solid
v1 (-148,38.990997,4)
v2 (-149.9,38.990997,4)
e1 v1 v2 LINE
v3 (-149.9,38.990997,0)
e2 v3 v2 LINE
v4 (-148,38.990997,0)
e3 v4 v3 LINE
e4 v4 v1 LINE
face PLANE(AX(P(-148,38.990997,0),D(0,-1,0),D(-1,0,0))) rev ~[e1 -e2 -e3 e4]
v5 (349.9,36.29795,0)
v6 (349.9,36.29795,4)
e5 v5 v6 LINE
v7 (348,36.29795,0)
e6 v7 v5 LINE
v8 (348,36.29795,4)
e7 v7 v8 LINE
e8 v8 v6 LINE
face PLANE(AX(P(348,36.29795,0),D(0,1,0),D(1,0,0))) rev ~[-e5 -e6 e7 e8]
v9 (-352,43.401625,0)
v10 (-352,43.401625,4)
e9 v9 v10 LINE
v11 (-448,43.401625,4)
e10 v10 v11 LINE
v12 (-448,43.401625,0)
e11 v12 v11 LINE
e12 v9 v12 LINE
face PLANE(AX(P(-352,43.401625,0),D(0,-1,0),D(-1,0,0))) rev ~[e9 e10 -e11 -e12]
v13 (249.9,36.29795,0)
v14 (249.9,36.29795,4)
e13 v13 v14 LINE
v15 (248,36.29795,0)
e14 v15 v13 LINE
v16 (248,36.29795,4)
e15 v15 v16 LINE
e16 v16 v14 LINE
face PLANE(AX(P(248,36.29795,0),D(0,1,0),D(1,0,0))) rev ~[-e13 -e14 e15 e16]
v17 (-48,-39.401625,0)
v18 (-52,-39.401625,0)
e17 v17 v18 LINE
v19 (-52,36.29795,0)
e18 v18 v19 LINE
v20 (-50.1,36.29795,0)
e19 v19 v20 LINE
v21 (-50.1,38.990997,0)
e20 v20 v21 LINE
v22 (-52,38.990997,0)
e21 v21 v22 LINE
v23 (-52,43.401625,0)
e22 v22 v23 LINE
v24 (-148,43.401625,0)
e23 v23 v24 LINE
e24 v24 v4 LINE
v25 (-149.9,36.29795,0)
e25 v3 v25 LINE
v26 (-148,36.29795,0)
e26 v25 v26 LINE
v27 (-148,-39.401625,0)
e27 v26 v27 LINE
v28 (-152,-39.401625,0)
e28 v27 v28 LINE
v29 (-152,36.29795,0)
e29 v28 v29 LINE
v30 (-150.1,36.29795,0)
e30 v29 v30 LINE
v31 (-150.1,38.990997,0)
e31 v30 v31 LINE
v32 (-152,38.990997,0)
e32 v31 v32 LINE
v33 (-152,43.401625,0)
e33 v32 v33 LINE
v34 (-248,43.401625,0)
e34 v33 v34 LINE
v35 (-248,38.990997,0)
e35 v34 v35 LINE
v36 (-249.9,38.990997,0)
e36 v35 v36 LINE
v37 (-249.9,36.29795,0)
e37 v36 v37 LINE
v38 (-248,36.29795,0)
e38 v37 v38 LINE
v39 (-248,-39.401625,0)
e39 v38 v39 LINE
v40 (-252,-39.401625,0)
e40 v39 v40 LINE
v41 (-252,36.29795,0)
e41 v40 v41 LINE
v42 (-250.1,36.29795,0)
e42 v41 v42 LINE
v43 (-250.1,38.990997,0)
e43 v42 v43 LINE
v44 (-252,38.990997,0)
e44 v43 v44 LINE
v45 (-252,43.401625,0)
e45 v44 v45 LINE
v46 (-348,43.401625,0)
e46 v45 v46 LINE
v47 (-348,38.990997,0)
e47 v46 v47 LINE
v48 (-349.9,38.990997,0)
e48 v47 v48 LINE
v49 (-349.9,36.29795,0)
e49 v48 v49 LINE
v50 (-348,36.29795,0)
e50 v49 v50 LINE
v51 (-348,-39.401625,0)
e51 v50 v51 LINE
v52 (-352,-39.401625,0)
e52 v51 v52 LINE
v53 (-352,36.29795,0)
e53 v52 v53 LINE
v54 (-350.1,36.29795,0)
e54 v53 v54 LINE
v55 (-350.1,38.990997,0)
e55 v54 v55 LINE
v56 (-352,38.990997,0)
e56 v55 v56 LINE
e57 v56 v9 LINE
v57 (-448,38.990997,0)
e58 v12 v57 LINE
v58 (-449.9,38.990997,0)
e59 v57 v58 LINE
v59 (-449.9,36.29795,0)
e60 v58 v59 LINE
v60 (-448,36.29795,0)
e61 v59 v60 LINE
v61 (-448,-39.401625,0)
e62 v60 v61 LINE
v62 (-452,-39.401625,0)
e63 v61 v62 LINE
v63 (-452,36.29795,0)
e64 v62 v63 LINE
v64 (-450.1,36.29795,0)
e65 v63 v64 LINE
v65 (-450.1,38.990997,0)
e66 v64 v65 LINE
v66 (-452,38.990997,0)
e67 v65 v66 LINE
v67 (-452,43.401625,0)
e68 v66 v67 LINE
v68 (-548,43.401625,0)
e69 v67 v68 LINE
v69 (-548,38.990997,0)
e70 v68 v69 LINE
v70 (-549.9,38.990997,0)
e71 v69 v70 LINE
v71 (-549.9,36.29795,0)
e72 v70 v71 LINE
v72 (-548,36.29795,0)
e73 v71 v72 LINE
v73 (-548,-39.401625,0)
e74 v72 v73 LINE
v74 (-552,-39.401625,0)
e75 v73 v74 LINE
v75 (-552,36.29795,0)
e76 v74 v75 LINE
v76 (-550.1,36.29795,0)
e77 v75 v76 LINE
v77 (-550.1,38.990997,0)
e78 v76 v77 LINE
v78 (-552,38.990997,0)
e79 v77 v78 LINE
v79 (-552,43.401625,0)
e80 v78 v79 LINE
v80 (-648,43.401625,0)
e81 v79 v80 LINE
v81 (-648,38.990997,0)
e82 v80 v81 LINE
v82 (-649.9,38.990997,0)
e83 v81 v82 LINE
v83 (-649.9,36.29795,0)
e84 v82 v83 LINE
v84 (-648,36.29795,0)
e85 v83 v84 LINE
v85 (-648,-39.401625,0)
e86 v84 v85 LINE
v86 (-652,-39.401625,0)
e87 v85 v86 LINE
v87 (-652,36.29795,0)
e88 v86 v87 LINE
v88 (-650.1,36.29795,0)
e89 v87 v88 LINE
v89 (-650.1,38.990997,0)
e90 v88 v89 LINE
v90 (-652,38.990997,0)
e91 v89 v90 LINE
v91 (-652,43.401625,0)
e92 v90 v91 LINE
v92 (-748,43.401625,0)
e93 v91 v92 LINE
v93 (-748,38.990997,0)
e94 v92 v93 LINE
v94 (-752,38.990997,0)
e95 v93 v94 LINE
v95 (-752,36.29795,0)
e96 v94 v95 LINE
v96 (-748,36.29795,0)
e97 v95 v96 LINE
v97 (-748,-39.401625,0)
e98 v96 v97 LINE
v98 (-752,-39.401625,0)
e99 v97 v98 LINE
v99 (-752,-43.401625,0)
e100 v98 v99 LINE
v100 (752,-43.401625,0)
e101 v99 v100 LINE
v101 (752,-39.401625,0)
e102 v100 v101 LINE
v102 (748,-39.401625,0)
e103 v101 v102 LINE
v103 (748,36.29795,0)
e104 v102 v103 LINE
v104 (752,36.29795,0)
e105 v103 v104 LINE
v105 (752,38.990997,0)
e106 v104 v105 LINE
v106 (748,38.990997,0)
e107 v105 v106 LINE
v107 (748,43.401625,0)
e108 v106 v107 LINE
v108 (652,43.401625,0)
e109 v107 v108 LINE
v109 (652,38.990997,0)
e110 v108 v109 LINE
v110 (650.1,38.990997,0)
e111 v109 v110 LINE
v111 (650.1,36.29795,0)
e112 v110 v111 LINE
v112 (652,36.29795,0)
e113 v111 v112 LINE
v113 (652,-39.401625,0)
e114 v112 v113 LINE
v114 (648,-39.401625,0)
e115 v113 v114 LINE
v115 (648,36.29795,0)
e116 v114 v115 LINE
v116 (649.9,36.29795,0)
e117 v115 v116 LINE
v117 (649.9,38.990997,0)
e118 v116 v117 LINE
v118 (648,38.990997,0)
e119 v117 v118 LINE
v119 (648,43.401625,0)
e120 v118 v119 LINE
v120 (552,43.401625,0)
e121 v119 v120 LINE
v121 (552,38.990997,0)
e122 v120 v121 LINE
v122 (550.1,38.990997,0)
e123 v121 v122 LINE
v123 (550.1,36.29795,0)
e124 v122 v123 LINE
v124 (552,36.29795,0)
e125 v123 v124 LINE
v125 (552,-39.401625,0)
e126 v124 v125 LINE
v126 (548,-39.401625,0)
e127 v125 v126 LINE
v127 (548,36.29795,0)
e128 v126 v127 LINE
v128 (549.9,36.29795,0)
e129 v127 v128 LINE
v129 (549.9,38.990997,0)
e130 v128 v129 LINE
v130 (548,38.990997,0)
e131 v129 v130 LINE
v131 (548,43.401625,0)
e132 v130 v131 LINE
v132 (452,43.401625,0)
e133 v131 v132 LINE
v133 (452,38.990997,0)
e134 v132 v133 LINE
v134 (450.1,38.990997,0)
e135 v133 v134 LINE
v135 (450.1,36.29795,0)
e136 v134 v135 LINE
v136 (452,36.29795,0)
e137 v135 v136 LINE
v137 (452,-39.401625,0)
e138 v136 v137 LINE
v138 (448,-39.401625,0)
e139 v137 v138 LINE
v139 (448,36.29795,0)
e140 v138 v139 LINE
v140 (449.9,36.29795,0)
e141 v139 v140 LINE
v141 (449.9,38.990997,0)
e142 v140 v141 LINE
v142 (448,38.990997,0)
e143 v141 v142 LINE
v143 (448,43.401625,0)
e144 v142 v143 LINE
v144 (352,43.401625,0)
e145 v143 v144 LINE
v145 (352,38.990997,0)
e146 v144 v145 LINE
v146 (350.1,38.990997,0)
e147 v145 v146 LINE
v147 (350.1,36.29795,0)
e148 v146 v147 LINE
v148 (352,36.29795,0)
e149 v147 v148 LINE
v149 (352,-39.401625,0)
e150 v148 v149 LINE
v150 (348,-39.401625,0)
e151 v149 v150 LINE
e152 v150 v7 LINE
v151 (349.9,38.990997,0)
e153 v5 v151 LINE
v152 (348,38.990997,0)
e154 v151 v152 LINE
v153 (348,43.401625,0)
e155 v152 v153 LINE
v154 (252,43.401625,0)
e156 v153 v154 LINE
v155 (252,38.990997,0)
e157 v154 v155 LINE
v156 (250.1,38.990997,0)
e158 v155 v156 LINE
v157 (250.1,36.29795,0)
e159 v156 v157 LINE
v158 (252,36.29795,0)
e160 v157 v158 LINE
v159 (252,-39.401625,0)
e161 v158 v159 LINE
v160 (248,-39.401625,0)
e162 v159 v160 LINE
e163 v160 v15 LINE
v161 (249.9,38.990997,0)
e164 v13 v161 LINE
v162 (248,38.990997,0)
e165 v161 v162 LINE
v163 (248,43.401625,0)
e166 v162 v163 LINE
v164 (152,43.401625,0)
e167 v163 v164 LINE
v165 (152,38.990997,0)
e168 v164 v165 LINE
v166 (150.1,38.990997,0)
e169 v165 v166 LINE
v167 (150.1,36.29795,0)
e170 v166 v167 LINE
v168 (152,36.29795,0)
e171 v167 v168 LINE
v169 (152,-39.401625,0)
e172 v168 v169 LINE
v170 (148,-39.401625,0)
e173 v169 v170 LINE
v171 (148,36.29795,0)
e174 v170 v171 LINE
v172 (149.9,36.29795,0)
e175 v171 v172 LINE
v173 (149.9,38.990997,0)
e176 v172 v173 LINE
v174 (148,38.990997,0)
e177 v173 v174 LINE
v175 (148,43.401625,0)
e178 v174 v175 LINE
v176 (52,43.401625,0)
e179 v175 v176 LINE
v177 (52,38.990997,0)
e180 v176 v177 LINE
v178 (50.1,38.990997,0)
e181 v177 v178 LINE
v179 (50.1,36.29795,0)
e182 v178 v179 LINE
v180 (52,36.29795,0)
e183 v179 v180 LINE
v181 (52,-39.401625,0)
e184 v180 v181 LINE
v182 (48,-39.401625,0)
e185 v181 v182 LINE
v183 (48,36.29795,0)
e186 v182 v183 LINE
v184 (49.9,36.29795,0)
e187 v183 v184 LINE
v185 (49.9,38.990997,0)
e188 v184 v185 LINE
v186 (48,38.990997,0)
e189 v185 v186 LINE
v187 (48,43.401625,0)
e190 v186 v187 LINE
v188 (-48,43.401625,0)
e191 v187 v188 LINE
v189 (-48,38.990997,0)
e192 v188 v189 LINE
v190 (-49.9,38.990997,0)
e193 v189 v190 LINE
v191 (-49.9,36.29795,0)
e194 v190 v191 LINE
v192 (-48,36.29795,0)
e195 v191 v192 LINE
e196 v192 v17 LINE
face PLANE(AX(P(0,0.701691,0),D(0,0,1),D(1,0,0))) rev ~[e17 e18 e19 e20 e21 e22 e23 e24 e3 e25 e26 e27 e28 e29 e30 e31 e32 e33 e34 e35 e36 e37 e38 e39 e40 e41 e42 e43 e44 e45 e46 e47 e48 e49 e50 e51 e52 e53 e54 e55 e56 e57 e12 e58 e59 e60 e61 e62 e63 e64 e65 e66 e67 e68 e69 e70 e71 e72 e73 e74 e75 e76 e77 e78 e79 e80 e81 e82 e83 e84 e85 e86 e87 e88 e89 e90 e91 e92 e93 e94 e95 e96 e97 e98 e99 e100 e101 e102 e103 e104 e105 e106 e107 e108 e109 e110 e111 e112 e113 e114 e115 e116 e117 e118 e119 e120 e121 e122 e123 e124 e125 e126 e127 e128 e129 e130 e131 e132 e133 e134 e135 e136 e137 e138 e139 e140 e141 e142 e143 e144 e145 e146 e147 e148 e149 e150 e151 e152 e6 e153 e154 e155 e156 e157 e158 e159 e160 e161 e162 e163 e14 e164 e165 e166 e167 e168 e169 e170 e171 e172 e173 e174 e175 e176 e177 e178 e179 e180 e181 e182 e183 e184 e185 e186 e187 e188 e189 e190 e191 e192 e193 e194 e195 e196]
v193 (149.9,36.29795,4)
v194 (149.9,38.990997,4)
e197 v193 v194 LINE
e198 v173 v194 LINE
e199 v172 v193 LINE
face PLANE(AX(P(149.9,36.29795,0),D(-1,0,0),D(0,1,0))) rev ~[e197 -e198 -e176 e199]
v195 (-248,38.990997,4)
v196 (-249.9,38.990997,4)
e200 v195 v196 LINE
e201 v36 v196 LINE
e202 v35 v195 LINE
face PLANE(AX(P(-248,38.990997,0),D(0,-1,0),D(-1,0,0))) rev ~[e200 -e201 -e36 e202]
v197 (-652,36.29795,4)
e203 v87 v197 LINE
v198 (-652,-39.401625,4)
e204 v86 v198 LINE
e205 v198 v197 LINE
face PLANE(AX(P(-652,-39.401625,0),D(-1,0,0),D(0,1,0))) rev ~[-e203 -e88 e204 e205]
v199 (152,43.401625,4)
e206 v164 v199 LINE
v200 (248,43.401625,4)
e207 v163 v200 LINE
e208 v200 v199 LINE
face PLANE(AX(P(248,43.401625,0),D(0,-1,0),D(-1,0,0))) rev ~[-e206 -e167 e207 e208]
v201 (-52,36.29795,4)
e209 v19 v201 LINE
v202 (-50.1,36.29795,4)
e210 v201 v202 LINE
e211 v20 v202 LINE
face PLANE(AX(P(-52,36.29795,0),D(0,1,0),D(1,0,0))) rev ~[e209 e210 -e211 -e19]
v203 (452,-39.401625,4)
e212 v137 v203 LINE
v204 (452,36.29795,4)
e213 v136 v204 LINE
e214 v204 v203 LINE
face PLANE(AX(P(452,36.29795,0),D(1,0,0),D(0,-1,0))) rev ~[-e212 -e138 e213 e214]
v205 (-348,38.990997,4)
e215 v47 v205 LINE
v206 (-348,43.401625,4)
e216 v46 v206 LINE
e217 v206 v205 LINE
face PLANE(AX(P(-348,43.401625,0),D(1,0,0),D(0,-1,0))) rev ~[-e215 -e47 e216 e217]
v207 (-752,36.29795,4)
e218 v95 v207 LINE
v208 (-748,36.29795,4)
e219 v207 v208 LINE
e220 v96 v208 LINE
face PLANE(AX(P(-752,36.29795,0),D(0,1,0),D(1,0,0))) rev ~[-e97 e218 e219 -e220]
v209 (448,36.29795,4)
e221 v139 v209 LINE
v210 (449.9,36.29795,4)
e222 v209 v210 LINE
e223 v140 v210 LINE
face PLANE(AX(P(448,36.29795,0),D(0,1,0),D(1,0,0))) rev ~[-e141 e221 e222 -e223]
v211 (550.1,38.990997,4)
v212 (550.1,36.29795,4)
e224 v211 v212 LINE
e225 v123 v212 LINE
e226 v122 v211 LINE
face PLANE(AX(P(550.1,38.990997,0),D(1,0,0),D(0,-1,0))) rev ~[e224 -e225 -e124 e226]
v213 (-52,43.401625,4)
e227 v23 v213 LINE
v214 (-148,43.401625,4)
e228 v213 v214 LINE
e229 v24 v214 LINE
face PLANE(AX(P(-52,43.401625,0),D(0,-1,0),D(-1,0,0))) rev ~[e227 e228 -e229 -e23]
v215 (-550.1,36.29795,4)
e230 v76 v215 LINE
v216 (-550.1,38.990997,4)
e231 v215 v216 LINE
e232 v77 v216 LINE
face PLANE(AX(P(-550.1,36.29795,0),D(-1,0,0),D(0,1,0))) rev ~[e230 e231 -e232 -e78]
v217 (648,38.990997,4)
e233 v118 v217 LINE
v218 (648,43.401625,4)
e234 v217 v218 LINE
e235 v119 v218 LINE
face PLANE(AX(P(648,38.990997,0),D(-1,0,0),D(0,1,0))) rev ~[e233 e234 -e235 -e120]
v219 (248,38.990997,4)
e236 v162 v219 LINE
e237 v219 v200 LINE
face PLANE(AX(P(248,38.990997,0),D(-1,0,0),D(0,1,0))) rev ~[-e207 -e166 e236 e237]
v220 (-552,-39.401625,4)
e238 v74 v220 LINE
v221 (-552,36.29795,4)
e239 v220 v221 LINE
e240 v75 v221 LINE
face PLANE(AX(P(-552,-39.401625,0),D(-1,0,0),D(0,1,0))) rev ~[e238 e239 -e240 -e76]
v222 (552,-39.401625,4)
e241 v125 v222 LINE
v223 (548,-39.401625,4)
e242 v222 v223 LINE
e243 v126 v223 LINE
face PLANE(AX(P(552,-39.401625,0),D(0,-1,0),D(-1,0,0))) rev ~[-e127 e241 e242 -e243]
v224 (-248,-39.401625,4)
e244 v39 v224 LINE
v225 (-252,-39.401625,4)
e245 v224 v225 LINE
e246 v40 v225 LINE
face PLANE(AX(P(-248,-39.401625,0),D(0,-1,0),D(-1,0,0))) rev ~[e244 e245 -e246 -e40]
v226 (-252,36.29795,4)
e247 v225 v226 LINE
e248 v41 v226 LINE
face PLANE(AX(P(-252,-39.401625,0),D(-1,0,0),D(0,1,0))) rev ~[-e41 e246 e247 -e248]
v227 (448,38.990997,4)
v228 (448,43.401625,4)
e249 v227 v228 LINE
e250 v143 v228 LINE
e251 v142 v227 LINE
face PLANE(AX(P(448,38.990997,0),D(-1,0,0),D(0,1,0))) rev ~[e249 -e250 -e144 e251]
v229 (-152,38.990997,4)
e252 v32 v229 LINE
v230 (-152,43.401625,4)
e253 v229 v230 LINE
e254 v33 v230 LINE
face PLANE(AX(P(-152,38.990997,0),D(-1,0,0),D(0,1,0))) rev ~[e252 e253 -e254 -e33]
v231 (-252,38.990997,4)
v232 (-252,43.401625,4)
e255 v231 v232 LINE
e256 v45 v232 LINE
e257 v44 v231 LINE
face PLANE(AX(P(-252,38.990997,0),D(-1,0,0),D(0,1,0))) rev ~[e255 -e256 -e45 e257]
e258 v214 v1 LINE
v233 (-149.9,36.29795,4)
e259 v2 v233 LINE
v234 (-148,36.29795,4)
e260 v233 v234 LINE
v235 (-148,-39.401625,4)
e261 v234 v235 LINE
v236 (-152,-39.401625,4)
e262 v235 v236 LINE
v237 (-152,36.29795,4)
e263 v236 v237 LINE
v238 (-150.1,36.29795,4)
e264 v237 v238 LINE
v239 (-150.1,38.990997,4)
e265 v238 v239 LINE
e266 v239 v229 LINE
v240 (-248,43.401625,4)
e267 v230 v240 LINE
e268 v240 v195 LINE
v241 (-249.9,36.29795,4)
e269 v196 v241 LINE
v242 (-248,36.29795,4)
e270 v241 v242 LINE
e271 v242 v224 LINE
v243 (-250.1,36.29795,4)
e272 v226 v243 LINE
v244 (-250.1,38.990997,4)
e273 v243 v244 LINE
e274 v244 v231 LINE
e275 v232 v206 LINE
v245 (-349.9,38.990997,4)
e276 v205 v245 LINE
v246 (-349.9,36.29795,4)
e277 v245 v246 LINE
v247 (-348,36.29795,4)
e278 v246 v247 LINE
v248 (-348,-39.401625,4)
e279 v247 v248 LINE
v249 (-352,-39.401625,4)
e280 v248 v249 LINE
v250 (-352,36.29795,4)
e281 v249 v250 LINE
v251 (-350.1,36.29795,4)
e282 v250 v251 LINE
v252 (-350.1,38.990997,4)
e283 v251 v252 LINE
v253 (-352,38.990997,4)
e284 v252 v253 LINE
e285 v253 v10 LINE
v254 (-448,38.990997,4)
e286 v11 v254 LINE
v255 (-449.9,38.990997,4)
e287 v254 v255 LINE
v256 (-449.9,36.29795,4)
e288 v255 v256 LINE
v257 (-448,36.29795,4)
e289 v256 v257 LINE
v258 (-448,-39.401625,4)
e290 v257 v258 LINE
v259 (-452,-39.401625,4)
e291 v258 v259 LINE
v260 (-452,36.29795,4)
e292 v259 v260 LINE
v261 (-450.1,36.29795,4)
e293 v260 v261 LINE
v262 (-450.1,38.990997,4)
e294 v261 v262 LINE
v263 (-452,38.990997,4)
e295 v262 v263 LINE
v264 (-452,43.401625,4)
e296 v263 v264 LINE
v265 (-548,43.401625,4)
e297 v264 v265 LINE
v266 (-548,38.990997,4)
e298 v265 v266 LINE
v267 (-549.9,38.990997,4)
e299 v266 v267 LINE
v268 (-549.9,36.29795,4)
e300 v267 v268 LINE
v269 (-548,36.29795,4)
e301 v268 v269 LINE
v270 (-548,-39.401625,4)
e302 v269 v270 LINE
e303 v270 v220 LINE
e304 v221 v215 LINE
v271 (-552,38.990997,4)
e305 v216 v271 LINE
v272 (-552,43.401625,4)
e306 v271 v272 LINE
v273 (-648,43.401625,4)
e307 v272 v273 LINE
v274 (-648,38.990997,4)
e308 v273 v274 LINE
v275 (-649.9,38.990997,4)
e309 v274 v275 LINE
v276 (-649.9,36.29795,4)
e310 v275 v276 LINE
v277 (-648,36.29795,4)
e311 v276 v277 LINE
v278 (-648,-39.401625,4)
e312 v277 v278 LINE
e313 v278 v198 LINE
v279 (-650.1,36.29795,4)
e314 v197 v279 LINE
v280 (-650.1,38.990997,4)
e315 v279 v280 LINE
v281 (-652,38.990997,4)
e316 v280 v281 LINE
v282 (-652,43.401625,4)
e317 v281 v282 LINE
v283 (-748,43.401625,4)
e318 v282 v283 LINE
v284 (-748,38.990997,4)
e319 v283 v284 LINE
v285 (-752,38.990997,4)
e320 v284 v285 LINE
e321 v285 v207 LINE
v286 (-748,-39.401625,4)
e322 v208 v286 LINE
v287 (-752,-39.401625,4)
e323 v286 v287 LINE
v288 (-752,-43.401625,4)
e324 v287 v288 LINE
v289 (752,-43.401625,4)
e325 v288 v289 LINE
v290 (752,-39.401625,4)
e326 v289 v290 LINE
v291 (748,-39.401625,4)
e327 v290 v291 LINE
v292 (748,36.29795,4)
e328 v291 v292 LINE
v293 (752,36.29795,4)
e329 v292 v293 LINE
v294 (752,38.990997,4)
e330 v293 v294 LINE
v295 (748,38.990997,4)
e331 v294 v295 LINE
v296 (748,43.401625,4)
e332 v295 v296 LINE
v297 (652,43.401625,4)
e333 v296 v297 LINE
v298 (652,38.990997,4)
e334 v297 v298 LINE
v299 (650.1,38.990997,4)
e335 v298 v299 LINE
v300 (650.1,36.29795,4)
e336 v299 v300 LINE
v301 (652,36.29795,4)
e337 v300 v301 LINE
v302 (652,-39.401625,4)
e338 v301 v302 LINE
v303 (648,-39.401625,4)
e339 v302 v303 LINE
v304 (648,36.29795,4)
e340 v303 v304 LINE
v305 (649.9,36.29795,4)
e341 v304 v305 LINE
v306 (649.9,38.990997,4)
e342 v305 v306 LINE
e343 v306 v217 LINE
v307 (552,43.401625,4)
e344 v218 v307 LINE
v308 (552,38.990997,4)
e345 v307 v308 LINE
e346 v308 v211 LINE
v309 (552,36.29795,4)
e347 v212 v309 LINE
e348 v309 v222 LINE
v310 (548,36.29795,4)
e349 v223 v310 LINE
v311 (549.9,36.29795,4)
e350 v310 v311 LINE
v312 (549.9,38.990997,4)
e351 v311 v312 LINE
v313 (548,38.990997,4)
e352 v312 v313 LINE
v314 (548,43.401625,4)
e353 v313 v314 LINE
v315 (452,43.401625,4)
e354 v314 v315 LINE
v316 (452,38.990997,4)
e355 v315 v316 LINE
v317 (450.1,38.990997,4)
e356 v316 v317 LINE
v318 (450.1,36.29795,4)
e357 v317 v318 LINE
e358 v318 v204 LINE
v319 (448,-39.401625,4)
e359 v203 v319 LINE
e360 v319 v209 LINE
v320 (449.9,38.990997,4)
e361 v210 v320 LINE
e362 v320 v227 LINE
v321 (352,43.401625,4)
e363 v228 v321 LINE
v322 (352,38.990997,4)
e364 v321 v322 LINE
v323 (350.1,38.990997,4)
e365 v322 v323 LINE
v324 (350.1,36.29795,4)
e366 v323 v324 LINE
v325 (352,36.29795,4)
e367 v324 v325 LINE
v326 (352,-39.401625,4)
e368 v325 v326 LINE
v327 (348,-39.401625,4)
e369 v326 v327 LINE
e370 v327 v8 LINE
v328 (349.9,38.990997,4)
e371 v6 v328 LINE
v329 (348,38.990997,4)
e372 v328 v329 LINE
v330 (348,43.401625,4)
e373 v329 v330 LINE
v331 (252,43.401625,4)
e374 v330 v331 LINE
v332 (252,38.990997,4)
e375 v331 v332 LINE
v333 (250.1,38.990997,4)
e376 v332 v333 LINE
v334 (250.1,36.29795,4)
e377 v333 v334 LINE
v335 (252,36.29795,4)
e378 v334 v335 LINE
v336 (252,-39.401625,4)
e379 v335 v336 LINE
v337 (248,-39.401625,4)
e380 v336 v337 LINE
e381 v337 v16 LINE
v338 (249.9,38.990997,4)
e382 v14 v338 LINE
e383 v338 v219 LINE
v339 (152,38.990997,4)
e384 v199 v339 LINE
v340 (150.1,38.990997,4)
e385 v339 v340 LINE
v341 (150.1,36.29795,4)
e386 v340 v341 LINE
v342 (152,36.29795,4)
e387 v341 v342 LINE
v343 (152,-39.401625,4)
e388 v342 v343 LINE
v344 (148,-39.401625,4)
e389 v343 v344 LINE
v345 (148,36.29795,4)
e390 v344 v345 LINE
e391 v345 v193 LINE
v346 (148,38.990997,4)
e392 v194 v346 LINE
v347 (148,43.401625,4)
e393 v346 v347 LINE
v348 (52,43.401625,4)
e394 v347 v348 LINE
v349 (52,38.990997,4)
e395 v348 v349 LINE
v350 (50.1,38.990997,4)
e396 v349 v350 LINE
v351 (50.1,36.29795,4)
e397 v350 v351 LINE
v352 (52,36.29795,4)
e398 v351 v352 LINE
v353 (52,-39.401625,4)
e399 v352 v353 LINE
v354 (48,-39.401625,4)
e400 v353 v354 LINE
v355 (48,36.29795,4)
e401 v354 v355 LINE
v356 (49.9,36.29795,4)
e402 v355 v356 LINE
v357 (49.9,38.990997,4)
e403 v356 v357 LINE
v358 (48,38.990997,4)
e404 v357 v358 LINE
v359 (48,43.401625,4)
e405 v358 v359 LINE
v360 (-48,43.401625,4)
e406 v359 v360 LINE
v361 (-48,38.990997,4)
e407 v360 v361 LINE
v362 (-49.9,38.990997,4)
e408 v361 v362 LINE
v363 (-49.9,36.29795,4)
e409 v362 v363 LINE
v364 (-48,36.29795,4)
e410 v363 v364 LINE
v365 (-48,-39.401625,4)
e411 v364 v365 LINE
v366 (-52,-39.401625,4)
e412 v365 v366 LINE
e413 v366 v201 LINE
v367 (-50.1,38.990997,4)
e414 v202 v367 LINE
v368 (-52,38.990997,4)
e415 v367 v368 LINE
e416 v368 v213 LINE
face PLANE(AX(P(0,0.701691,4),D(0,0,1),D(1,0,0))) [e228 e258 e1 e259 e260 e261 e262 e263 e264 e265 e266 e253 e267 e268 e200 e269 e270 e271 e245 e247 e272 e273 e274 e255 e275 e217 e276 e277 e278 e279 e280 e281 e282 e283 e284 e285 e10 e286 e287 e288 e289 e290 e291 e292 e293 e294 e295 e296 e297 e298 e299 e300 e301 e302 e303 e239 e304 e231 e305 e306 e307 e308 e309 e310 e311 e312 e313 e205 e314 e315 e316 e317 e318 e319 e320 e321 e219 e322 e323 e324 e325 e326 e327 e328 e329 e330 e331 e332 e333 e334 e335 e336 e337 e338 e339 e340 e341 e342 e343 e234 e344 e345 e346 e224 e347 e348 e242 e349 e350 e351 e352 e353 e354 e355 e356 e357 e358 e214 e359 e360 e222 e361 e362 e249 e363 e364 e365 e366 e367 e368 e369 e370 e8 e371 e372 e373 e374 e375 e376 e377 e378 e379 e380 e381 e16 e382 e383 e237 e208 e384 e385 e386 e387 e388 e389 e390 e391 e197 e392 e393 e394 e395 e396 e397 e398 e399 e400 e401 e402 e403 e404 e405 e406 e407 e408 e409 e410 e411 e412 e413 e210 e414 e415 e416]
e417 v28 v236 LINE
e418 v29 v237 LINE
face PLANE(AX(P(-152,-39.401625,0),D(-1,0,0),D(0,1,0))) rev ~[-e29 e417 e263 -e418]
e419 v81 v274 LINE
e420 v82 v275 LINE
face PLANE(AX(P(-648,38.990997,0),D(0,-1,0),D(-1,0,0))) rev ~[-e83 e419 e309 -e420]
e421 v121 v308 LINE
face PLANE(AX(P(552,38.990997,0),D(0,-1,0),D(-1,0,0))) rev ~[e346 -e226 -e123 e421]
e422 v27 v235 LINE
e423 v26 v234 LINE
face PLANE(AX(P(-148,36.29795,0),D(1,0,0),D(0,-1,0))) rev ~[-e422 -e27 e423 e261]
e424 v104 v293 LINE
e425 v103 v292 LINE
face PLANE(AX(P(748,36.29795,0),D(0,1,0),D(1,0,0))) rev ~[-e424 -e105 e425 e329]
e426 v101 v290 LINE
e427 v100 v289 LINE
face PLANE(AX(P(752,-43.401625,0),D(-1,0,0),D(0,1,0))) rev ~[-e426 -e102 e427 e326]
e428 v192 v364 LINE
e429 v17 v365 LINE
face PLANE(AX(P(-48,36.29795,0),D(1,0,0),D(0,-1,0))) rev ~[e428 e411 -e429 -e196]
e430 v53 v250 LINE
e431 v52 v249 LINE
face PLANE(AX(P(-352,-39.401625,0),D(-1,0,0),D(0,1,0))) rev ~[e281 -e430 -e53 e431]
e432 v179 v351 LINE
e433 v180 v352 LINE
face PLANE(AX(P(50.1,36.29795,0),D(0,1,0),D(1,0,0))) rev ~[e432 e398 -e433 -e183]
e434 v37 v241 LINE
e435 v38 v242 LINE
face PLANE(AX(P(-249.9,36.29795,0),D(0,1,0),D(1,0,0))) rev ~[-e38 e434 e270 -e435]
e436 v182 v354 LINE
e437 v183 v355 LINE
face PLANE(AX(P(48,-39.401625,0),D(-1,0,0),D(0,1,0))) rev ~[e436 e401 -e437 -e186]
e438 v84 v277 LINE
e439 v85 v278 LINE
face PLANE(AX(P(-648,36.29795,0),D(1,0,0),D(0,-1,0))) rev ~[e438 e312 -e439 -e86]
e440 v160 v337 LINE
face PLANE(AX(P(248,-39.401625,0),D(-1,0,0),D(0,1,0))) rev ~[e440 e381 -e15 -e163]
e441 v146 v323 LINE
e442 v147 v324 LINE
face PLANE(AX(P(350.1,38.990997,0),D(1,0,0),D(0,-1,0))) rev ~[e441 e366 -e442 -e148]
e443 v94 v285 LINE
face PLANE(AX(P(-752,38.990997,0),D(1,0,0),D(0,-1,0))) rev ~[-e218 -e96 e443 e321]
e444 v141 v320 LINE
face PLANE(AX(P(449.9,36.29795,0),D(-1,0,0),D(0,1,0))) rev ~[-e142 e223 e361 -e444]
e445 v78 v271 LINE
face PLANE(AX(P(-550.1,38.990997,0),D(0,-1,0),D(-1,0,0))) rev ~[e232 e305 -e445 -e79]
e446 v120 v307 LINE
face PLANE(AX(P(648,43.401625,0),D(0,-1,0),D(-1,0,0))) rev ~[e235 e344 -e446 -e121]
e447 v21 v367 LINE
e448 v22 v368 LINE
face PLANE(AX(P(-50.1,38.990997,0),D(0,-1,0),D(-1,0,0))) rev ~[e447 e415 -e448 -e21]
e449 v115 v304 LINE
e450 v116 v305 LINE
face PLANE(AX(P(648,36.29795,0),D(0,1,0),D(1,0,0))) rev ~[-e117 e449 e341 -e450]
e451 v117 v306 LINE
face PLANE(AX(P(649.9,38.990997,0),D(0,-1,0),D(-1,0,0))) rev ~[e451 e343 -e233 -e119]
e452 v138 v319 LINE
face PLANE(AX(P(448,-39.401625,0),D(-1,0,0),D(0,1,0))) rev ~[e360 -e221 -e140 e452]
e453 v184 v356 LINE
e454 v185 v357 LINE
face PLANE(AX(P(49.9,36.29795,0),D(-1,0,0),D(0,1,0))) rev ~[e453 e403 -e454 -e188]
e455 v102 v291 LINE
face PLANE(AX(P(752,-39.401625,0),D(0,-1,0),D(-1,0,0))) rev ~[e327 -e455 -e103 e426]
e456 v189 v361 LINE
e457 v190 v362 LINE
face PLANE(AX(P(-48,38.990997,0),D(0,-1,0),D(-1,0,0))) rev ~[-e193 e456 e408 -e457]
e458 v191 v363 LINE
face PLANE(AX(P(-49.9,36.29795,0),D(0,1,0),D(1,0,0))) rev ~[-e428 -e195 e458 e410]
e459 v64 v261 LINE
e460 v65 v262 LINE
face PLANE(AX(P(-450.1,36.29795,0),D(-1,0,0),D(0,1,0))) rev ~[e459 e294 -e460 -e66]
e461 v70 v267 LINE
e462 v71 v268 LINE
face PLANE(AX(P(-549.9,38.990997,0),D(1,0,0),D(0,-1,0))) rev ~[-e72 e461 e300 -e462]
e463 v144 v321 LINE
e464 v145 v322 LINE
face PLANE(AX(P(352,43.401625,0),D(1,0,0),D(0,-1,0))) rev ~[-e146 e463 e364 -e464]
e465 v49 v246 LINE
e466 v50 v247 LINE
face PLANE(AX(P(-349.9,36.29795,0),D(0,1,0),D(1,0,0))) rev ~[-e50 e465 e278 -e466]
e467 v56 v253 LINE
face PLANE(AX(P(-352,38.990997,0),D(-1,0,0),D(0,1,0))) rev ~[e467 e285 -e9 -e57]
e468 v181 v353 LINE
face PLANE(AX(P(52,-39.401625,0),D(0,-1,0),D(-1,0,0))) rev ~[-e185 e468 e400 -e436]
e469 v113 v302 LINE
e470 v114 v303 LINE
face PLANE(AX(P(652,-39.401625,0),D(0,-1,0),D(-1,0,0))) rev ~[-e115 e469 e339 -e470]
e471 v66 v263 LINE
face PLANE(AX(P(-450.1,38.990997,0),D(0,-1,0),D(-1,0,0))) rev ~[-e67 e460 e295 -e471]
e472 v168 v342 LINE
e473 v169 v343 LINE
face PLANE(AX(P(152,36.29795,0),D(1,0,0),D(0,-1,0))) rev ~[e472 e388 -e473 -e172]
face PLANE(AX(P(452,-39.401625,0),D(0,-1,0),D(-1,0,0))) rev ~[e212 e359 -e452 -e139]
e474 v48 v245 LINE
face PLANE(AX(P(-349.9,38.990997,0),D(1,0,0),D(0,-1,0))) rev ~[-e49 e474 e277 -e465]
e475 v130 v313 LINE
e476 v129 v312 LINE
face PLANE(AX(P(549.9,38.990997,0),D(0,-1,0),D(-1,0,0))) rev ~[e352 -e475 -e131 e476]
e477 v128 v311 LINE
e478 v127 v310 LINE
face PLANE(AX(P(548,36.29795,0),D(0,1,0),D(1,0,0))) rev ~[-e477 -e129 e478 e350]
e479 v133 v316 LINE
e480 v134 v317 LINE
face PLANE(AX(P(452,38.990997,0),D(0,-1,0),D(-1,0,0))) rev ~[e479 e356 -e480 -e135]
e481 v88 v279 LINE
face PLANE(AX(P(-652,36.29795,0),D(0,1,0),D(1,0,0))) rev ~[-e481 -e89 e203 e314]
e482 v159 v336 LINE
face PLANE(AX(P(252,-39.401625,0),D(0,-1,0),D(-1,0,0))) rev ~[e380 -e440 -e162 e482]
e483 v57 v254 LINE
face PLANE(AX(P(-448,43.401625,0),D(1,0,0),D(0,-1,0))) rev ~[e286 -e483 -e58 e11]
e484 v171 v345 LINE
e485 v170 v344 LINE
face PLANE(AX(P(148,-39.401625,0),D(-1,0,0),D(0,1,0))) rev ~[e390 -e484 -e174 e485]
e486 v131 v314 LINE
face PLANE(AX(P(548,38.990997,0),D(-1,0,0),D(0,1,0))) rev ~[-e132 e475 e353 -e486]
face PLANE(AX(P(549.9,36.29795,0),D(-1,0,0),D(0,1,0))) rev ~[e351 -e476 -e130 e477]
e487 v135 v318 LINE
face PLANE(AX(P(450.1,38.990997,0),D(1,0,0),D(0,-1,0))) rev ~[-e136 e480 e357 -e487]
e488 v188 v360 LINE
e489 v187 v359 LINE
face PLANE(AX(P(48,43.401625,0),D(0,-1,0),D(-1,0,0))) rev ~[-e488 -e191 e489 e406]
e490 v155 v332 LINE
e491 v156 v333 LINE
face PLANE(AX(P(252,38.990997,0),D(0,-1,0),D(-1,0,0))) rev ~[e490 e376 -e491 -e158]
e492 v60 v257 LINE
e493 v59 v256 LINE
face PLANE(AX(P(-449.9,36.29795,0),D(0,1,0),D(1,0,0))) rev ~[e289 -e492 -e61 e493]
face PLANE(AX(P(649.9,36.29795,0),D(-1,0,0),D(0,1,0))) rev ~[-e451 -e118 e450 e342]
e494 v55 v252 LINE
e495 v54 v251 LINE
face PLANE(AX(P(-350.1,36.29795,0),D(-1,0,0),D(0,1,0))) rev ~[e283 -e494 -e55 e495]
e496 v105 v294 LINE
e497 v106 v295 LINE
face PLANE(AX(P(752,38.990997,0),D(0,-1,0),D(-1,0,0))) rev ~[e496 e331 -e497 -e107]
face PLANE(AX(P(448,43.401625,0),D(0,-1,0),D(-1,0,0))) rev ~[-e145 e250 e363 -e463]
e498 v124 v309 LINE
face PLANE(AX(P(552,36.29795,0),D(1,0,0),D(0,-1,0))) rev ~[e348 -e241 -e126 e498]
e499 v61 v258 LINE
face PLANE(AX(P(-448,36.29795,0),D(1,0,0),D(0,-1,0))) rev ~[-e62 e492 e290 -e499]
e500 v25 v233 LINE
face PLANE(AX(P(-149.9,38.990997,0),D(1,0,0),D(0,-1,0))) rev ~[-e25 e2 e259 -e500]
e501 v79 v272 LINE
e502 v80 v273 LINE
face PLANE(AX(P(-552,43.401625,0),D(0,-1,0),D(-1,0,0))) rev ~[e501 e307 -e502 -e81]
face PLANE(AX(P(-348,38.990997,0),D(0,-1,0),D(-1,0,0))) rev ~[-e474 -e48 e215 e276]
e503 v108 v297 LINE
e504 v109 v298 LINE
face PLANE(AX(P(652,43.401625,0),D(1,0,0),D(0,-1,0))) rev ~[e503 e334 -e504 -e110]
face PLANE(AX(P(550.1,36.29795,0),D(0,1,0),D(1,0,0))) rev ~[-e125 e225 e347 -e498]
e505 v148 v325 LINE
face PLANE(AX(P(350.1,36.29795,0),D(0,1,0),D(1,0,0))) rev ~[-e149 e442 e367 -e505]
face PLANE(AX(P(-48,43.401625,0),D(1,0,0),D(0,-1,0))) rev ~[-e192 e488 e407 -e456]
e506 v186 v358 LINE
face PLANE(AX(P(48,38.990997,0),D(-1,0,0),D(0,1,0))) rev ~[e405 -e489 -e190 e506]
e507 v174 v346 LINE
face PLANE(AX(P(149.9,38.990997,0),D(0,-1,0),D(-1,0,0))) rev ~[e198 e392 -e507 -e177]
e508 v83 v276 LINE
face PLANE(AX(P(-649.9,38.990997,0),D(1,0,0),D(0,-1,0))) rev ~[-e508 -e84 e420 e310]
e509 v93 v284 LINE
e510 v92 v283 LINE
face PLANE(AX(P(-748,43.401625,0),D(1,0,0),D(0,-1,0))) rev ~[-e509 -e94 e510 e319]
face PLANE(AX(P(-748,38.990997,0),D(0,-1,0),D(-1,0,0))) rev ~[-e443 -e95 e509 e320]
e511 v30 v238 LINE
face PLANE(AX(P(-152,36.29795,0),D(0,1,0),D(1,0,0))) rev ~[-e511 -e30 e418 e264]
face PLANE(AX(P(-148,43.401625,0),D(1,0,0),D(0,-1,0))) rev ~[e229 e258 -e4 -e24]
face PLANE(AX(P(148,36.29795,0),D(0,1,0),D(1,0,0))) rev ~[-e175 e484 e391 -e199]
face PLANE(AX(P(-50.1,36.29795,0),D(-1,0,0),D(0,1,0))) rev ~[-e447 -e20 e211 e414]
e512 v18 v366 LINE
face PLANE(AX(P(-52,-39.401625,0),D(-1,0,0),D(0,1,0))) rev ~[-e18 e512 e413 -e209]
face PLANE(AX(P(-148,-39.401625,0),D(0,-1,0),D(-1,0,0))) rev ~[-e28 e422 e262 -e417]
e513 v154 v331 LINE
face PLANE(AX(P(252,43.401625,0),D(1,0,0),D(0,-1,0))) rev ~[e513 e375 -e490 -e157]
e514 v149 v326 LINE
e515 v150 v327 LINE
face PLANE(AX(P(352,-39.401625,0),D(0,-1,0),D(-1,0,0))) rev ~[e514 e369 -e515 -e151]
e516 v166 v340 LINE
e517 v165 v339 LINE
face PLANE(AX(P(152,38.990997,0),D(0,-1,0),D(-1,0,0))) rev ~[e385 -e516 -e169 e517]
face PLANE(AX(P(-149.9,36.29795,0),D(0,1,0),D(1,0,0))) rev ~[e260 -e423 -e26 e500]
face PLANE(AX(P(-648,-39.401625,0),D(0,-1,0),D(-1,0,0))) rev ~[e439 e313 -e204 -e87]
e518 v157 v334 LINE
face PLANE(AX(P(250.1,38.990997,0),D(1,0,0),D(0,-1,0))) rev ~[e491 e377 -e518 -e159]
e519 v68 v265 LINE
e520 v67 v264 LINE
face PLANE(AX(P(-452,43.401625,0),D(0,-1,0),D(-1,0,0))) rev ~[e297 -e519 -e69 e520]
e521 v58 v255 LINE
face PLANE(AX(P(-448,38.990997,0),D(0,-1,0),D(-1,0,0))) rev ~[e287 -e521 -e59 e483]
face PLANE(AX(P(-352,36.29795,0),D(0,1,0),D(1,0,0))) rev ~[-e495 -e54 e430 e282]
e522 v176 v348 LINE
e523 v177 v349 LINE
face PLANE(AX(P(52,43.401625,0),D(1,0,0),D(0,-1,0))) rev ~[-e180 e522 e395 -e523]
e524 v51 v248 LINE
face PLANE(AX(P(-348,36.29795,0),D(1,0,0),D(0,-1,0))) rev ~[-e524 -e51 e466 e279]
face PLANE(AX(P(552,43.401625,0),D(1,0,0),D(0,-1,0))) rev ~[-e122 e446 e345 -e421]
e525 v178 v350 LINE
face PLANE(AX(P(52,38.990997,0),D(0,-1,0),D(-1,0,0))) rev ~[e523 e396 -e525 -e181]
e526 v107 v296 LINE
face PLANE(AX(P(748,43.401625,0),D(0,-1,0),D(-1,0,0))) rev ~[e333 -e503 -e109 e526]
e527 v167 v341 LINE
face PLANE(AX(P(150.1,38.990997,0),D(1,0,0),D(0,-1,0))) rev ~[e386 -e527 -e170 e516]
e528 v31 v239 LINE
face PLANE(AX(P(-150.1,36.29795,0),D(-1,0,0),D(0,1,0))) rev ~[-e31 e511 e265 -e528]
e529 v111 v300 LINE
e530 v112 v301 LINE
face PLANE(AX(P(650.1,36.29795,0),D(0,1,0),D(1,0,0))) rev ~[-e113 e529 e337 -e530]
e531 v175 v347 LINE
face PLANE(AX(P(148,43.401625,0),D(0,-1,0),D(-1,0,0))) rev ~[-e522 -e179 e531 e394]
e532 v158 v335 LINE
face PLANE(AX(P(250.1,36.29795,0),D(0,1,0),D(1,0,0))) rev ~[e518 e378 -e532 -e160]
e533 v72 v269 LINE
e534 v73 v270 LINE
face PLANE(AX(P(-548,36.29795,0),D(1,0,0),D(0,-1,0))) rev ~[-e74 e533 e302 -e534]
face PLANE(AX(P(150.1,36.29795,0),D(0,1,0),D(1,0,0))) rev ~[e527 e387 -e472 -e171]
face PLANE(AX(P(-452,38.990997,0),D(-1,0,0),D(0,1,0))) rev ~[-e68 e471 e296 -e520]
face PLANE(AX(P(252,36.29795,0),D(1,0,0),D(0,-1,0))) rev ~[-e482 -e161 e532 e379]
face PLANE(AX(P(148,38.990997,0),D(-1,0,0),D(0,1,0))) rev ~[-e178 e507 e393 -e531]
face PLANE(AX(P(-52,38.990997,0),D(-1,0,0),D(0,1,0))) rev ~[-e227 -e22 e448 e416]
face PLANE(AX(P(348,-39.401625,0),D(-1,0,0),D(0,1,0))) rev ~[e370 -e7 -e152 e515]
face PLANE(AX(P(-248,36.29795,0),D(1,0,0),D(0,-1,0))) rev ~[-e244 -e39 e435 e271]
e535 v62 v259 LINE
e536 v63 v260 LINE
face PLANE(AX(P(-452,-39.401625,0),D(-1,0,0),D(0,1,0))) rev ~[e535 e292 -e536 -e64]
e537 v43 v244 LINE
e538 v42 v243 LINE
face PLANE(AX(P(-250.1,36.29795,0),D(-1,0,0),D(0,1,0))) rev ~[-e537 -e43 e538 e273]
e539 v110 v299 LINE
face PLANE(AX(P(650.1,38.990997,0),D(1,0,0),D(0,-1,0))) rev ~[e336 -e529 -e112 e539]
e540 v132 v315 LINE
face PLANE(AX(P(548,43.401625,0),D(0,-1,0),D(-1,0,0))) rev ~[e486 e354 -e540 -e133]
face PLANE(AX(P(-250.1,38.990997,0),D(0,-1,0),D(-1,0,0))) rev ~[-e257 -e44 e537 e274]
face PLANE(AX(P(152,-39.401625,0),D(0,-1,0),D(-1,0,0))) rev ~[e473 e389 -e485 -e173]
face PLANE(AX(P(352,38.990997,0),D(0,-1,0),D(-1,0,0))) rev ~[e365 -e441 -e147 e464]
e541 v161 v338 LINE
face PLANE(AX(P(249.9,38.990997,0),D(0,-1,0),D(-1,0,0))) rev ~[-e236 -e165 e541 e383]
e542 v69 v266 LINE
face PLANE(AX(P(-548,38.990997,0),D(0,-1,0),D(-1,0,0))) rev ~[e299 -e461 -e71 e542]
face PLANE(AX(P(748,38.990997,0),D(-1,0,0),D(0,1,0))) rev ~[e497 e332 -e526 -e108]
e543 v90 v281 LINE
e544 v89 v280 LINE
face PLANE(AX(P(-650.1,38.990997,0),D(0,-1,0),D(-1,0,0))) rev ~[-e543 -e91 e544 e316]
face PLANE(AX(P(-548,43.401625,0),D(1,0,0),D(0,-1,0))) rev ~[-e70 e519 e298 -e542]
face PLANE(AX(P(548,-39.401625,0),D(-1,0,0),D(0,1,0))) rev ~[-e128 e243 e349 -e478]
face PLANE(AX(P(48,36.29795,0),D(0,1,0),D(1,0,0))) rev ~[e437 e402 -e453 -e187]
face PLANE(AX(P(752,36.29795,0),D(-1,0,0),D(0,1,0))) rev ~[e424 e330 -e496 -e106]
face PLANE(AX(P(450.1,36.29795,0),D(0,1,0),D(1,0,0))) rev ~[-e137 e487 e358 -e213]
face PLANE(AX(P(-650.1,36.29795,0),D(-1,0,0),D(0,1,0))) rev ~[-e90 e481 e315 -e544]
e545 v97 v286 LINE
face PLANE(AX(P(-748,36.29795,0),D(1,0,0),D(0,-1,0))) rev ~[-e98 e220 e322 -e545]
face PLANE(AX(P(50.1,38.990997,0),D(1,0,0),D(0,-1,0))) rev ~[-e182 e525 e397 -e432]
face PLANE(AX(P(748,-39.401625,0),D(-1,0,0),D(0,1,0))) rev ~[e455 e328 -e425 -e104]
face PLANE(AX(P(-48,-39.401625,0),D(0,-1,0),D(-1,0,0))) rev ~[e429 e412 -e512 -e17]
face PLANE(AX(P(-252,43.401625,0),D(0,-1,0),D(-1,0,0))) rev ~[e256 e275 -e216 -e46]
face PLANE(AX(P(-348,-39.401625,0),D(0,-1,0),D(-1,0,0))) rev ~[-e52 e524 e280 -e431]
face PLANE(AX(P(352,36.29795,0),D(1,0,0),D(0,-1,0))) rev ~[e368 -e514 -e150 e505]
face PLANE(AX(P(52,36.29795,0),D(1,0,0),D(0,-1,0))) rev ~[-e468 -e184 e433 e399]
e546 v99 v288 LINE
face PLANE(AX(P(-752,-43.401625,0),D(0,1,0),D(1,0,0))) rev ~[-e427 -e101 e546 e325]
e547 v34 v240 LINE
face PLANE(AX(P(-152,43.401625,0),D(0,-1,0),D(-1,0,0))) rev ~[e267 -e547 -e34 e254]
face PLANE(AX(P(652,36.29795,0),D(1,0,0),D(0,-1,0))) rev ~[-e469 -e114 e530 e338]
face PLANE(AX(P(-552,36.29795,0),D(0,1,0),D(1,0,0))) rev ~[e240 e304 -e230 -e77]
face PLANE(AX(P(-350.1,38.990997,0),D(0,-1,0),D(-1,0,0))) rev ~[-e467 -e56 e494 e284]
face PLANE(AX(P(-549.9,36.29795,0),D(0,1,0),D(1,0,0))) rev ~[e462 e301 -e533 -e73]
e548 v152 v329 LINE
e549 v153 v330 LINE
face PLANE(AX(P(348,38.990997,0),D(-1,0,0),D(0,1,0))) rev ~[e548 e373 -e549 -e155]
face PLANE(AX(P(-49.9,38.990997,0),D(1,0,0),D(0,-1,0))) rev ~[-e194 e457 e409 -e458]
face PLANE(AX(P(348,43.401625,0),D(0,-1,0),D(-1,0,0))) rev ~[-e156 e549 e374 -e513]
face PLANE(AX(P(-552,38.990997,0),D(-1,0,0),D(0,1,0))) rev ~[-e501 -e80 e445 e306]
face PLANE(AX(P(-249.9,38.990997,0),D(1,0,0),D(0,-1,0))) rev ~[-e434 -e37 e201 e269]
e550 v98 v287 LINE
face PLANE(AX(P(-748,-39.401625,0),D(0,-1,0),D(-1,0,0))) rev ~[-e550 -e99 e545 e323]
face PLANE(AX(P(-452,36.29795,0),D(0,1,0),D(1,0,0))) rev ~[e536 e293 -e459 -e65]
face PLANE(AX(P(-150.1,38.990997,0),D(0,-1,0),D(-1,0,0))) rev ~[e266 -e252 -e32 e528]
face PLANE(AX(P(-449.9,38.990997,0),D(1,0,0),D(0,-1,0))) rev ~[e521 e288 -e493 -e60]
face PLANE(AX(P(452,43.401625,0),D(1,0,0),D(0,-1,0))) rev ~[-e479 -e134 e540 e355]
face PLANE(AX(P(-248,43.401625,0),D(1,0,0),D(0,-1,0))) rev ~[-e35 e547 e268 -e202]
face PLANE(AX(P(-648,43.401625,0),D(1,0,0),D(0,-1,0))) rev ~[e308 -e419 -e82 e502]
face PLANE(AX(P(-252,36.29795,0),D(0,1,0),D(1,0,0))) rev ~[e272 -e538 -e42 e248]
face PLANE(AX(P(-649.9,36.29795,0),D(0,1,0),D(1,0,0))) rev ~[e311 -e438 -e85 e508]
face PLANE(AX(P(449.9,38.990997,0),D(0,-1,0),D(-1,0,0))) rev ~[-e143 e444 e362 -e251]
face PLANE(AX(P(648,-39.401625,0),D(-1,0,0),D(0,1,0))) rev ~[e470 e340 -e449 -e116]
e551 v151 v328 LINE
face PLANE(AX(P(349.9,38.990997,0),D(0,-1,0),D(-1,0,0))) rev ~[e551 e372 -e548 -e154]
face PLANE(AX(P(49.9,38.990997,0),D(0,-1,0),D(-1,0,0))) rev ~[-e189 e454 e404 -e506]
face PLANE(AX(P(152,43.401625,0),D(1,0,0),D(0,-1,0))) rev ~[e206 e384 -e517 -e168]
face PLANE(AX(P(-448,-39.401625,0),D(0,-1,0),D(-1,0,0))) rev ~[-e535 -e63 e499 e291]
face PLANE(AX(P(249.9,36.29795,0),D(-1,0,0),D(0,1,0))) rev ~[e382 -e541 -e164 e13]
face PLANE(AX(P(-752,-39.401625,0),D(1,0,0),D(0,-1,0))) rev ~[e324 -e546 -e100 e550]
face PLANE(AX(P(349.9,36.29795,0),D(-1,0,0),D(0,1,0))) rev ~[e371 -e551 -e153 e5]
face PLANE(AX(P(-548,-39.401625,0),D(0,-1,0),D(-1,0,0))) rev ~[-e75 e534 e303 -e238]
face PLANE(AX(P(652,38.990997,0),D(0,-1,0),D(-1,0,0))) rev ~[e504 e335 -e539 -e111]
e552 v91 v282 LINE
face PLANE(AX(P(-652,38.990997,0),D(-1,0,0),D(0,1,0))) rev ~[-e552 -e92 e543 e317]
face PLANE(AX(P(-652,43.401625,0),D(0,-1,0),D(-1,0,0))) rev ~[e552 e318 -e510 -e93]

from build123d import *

# Parameters (mm, degrees)
BOSS_EXTRUDE1_DEPTH = 4


with BuildPart() as part:
    # Sketch2 → Boss-Extrude1 (new body)
    with BuildSketch(Plane.XY):
        Polygon((-752, 38.99099655), (-752, 36.297950089), (-748, 36.297950089), (-748, -39.401624923), (-752, -39.401624923), (-752, -43.401624923), (752, -43.401624923), (752, -39.401624923), (748, -39.401624923), (748, 36.297950089), (752, 36.297950089), (752, 38.99099655), (748, 38.99099655), (748, 43.401624923), (652, 43.401624923), (652, 38.99099655), (650.1, 38.99099655), (650.1, 36.297950089), (652, 36.297950089), (652, -39.401624923), (648, -39.401624923), (648, 36.297950089), (649.9, 36.297950089), (649.9, 38.99099655), (648, 38.99099655), (648, 43.401624923), (552, 43.401624923), (552, 38.99099655), (550.1, 38.99099655), (550.1, 36.297950089), (552, 36.297950089), (552, -39.401624923), (548, -39.401624923), (548, 36.297950089), (549.9, 36.297950089), (549.9, 38.99099655), (548, 38.99099655), (548, 43.401624923), (452, 43.401624923), (452, 38.99099655), (450.1, 38.99099655), (450.1, 36.297950089), (452, 36.297950089), (452, -39.401624923), (448, -39.401624923), (448, 36.297950089), (449.9, 36.297950089), (449.9, 38.99099655), (448, 38.99099655), (448, 43.401624923), (352, 43.401624923), (352, 38.99099655), (350.1, 38.99099655), (350.1, 36.297950089), (352, 36.297950089), (352, -39.401624923), (350, -39.401624923), (348, -39.401624923), (348, 36.297950089), (349.9, 36.297950089), (349.9, 38.99099655), (348, 38.99099655), (348, 43.401624923), (252, 43.401624923), (252, 38.99099655), (250.1, 38.99099655), (250.1, 36.297950089), (252, 36.297950089), (252, -39.401624923), (250, -39.401624923), (248, -39.401624923), (248, 36.297950089), (249.9, 36.297950089), (249.9, 38.99099655), (248, 38.99099655), (248, 43.401624923), (152, 43.401624923), (152, 38.99099655), (150.1, 38.99099655), (150.1, 36.297950089), (152, 36.297950089), (152, -39.401624923), (148, -39.401624923), (148, 36.297950089), (149.9, 36.297950089), (149.9, 38.99099655), (148, 38.99099655), (148, 43.401624923), (52, 43.401624923), (52, 38.99099655), (50.1, 38.99099655), (50.1, 36.297950089), (52, 36.297950089), (52, -39.401624923), (48, -39.401624923), (48, 36.297950089), (49.9, 36.297950089), (49.9, 38.99099655), (48, 38.99099655), (48, 43.401624923), (-48, 43.401624923), (-48, 38.99099655), (-49.9, 38.99099655), (-49.9, 36.297950089), (-48, 36.297950089), (-48, -39.401624923), (-52, -39.401624923), (-52, 36.297950089), (-50.1, 36.297950089), (-50.1, 38.99099655), (-52, 38.99099655), (-52, 43.401624923), (-148, 43.401624923), (-148, 38.99099655), (-149.9, 38.99099655), (-149.9, 36.297950089), (-148, 36.297950089), (-148, -39.401624923), (-152, -39.401624923), (-152, 36.297950089), (-150.1, 36.297950089), (-150.1, 38.99099655), (-152, 38.99099655), (-152, 43.401624923), (-248, 43.401624923), (-248, 38.99099655), (-249.9, 38.99099655), (-249.9, 36.297950089), (-248, 36.297950089), (-248, -39.401624923), (-252, -39.401624923), (-252, 36.297950089), (-250.1, 36.297950089), (-250.1, 38.99099655), (-252, 38.99099655), (-252, 43.401624923), (-348, 43.401624923), (-348, 38.99099655), (-349.9, 38.99099655), (-349.9, 36.297950089), (-348, 36.297950089), (-348, -39.401624923), (-352, -39.401624923), (-352, 36.297950089), (-350.1, 36.297950089), (-350.1, 38.99099655), (-352, 38.99099655), (-352, 43.401624923), (-448, 43.401624923), (-448, 38.99099655), (-449.9, 38.99099655), (-449.9, 36.297950089), (-448, 36.297950089), (-448, -39.401624923), (-452, -39.401624923), (-452, 36.297950089), (-450.1, 36.297950089), (-450.1, 38.99099655), (-452, 38.99099655), (-452, 43.401624923), (-548, 43.401624923), (-548, 38.99099655), (-549.9, 38.99099655), (-549.9, 36.297950089), (-548, 36.297950089), (-548, -39.401624923), (-552, -39.401624923), (-552, 36.297950089), (-550.1, 36.297950089), (-550.1, 38.99099655), (-552, 38.99099655), (-552, 43.401624923), (-648, 43.401624923), (-648, 38.99099655), (-649.9, 38.99099655), (-649.9, 36.297950089), (-648, 36.297950089), (-648, -39.401624923), (-652, -39.401624923), (-652, 36.297950089), (-650.1, 36.297950089), (-650.1, 38.99099655), (-652, 38.99099655), (-652, 43.401624923), (-748, 43.401624923), (-748, 38.99099655), align=None)
    extrude(amount=BOSS_EXTRUDE1_DEPTH)


solid = part.part
